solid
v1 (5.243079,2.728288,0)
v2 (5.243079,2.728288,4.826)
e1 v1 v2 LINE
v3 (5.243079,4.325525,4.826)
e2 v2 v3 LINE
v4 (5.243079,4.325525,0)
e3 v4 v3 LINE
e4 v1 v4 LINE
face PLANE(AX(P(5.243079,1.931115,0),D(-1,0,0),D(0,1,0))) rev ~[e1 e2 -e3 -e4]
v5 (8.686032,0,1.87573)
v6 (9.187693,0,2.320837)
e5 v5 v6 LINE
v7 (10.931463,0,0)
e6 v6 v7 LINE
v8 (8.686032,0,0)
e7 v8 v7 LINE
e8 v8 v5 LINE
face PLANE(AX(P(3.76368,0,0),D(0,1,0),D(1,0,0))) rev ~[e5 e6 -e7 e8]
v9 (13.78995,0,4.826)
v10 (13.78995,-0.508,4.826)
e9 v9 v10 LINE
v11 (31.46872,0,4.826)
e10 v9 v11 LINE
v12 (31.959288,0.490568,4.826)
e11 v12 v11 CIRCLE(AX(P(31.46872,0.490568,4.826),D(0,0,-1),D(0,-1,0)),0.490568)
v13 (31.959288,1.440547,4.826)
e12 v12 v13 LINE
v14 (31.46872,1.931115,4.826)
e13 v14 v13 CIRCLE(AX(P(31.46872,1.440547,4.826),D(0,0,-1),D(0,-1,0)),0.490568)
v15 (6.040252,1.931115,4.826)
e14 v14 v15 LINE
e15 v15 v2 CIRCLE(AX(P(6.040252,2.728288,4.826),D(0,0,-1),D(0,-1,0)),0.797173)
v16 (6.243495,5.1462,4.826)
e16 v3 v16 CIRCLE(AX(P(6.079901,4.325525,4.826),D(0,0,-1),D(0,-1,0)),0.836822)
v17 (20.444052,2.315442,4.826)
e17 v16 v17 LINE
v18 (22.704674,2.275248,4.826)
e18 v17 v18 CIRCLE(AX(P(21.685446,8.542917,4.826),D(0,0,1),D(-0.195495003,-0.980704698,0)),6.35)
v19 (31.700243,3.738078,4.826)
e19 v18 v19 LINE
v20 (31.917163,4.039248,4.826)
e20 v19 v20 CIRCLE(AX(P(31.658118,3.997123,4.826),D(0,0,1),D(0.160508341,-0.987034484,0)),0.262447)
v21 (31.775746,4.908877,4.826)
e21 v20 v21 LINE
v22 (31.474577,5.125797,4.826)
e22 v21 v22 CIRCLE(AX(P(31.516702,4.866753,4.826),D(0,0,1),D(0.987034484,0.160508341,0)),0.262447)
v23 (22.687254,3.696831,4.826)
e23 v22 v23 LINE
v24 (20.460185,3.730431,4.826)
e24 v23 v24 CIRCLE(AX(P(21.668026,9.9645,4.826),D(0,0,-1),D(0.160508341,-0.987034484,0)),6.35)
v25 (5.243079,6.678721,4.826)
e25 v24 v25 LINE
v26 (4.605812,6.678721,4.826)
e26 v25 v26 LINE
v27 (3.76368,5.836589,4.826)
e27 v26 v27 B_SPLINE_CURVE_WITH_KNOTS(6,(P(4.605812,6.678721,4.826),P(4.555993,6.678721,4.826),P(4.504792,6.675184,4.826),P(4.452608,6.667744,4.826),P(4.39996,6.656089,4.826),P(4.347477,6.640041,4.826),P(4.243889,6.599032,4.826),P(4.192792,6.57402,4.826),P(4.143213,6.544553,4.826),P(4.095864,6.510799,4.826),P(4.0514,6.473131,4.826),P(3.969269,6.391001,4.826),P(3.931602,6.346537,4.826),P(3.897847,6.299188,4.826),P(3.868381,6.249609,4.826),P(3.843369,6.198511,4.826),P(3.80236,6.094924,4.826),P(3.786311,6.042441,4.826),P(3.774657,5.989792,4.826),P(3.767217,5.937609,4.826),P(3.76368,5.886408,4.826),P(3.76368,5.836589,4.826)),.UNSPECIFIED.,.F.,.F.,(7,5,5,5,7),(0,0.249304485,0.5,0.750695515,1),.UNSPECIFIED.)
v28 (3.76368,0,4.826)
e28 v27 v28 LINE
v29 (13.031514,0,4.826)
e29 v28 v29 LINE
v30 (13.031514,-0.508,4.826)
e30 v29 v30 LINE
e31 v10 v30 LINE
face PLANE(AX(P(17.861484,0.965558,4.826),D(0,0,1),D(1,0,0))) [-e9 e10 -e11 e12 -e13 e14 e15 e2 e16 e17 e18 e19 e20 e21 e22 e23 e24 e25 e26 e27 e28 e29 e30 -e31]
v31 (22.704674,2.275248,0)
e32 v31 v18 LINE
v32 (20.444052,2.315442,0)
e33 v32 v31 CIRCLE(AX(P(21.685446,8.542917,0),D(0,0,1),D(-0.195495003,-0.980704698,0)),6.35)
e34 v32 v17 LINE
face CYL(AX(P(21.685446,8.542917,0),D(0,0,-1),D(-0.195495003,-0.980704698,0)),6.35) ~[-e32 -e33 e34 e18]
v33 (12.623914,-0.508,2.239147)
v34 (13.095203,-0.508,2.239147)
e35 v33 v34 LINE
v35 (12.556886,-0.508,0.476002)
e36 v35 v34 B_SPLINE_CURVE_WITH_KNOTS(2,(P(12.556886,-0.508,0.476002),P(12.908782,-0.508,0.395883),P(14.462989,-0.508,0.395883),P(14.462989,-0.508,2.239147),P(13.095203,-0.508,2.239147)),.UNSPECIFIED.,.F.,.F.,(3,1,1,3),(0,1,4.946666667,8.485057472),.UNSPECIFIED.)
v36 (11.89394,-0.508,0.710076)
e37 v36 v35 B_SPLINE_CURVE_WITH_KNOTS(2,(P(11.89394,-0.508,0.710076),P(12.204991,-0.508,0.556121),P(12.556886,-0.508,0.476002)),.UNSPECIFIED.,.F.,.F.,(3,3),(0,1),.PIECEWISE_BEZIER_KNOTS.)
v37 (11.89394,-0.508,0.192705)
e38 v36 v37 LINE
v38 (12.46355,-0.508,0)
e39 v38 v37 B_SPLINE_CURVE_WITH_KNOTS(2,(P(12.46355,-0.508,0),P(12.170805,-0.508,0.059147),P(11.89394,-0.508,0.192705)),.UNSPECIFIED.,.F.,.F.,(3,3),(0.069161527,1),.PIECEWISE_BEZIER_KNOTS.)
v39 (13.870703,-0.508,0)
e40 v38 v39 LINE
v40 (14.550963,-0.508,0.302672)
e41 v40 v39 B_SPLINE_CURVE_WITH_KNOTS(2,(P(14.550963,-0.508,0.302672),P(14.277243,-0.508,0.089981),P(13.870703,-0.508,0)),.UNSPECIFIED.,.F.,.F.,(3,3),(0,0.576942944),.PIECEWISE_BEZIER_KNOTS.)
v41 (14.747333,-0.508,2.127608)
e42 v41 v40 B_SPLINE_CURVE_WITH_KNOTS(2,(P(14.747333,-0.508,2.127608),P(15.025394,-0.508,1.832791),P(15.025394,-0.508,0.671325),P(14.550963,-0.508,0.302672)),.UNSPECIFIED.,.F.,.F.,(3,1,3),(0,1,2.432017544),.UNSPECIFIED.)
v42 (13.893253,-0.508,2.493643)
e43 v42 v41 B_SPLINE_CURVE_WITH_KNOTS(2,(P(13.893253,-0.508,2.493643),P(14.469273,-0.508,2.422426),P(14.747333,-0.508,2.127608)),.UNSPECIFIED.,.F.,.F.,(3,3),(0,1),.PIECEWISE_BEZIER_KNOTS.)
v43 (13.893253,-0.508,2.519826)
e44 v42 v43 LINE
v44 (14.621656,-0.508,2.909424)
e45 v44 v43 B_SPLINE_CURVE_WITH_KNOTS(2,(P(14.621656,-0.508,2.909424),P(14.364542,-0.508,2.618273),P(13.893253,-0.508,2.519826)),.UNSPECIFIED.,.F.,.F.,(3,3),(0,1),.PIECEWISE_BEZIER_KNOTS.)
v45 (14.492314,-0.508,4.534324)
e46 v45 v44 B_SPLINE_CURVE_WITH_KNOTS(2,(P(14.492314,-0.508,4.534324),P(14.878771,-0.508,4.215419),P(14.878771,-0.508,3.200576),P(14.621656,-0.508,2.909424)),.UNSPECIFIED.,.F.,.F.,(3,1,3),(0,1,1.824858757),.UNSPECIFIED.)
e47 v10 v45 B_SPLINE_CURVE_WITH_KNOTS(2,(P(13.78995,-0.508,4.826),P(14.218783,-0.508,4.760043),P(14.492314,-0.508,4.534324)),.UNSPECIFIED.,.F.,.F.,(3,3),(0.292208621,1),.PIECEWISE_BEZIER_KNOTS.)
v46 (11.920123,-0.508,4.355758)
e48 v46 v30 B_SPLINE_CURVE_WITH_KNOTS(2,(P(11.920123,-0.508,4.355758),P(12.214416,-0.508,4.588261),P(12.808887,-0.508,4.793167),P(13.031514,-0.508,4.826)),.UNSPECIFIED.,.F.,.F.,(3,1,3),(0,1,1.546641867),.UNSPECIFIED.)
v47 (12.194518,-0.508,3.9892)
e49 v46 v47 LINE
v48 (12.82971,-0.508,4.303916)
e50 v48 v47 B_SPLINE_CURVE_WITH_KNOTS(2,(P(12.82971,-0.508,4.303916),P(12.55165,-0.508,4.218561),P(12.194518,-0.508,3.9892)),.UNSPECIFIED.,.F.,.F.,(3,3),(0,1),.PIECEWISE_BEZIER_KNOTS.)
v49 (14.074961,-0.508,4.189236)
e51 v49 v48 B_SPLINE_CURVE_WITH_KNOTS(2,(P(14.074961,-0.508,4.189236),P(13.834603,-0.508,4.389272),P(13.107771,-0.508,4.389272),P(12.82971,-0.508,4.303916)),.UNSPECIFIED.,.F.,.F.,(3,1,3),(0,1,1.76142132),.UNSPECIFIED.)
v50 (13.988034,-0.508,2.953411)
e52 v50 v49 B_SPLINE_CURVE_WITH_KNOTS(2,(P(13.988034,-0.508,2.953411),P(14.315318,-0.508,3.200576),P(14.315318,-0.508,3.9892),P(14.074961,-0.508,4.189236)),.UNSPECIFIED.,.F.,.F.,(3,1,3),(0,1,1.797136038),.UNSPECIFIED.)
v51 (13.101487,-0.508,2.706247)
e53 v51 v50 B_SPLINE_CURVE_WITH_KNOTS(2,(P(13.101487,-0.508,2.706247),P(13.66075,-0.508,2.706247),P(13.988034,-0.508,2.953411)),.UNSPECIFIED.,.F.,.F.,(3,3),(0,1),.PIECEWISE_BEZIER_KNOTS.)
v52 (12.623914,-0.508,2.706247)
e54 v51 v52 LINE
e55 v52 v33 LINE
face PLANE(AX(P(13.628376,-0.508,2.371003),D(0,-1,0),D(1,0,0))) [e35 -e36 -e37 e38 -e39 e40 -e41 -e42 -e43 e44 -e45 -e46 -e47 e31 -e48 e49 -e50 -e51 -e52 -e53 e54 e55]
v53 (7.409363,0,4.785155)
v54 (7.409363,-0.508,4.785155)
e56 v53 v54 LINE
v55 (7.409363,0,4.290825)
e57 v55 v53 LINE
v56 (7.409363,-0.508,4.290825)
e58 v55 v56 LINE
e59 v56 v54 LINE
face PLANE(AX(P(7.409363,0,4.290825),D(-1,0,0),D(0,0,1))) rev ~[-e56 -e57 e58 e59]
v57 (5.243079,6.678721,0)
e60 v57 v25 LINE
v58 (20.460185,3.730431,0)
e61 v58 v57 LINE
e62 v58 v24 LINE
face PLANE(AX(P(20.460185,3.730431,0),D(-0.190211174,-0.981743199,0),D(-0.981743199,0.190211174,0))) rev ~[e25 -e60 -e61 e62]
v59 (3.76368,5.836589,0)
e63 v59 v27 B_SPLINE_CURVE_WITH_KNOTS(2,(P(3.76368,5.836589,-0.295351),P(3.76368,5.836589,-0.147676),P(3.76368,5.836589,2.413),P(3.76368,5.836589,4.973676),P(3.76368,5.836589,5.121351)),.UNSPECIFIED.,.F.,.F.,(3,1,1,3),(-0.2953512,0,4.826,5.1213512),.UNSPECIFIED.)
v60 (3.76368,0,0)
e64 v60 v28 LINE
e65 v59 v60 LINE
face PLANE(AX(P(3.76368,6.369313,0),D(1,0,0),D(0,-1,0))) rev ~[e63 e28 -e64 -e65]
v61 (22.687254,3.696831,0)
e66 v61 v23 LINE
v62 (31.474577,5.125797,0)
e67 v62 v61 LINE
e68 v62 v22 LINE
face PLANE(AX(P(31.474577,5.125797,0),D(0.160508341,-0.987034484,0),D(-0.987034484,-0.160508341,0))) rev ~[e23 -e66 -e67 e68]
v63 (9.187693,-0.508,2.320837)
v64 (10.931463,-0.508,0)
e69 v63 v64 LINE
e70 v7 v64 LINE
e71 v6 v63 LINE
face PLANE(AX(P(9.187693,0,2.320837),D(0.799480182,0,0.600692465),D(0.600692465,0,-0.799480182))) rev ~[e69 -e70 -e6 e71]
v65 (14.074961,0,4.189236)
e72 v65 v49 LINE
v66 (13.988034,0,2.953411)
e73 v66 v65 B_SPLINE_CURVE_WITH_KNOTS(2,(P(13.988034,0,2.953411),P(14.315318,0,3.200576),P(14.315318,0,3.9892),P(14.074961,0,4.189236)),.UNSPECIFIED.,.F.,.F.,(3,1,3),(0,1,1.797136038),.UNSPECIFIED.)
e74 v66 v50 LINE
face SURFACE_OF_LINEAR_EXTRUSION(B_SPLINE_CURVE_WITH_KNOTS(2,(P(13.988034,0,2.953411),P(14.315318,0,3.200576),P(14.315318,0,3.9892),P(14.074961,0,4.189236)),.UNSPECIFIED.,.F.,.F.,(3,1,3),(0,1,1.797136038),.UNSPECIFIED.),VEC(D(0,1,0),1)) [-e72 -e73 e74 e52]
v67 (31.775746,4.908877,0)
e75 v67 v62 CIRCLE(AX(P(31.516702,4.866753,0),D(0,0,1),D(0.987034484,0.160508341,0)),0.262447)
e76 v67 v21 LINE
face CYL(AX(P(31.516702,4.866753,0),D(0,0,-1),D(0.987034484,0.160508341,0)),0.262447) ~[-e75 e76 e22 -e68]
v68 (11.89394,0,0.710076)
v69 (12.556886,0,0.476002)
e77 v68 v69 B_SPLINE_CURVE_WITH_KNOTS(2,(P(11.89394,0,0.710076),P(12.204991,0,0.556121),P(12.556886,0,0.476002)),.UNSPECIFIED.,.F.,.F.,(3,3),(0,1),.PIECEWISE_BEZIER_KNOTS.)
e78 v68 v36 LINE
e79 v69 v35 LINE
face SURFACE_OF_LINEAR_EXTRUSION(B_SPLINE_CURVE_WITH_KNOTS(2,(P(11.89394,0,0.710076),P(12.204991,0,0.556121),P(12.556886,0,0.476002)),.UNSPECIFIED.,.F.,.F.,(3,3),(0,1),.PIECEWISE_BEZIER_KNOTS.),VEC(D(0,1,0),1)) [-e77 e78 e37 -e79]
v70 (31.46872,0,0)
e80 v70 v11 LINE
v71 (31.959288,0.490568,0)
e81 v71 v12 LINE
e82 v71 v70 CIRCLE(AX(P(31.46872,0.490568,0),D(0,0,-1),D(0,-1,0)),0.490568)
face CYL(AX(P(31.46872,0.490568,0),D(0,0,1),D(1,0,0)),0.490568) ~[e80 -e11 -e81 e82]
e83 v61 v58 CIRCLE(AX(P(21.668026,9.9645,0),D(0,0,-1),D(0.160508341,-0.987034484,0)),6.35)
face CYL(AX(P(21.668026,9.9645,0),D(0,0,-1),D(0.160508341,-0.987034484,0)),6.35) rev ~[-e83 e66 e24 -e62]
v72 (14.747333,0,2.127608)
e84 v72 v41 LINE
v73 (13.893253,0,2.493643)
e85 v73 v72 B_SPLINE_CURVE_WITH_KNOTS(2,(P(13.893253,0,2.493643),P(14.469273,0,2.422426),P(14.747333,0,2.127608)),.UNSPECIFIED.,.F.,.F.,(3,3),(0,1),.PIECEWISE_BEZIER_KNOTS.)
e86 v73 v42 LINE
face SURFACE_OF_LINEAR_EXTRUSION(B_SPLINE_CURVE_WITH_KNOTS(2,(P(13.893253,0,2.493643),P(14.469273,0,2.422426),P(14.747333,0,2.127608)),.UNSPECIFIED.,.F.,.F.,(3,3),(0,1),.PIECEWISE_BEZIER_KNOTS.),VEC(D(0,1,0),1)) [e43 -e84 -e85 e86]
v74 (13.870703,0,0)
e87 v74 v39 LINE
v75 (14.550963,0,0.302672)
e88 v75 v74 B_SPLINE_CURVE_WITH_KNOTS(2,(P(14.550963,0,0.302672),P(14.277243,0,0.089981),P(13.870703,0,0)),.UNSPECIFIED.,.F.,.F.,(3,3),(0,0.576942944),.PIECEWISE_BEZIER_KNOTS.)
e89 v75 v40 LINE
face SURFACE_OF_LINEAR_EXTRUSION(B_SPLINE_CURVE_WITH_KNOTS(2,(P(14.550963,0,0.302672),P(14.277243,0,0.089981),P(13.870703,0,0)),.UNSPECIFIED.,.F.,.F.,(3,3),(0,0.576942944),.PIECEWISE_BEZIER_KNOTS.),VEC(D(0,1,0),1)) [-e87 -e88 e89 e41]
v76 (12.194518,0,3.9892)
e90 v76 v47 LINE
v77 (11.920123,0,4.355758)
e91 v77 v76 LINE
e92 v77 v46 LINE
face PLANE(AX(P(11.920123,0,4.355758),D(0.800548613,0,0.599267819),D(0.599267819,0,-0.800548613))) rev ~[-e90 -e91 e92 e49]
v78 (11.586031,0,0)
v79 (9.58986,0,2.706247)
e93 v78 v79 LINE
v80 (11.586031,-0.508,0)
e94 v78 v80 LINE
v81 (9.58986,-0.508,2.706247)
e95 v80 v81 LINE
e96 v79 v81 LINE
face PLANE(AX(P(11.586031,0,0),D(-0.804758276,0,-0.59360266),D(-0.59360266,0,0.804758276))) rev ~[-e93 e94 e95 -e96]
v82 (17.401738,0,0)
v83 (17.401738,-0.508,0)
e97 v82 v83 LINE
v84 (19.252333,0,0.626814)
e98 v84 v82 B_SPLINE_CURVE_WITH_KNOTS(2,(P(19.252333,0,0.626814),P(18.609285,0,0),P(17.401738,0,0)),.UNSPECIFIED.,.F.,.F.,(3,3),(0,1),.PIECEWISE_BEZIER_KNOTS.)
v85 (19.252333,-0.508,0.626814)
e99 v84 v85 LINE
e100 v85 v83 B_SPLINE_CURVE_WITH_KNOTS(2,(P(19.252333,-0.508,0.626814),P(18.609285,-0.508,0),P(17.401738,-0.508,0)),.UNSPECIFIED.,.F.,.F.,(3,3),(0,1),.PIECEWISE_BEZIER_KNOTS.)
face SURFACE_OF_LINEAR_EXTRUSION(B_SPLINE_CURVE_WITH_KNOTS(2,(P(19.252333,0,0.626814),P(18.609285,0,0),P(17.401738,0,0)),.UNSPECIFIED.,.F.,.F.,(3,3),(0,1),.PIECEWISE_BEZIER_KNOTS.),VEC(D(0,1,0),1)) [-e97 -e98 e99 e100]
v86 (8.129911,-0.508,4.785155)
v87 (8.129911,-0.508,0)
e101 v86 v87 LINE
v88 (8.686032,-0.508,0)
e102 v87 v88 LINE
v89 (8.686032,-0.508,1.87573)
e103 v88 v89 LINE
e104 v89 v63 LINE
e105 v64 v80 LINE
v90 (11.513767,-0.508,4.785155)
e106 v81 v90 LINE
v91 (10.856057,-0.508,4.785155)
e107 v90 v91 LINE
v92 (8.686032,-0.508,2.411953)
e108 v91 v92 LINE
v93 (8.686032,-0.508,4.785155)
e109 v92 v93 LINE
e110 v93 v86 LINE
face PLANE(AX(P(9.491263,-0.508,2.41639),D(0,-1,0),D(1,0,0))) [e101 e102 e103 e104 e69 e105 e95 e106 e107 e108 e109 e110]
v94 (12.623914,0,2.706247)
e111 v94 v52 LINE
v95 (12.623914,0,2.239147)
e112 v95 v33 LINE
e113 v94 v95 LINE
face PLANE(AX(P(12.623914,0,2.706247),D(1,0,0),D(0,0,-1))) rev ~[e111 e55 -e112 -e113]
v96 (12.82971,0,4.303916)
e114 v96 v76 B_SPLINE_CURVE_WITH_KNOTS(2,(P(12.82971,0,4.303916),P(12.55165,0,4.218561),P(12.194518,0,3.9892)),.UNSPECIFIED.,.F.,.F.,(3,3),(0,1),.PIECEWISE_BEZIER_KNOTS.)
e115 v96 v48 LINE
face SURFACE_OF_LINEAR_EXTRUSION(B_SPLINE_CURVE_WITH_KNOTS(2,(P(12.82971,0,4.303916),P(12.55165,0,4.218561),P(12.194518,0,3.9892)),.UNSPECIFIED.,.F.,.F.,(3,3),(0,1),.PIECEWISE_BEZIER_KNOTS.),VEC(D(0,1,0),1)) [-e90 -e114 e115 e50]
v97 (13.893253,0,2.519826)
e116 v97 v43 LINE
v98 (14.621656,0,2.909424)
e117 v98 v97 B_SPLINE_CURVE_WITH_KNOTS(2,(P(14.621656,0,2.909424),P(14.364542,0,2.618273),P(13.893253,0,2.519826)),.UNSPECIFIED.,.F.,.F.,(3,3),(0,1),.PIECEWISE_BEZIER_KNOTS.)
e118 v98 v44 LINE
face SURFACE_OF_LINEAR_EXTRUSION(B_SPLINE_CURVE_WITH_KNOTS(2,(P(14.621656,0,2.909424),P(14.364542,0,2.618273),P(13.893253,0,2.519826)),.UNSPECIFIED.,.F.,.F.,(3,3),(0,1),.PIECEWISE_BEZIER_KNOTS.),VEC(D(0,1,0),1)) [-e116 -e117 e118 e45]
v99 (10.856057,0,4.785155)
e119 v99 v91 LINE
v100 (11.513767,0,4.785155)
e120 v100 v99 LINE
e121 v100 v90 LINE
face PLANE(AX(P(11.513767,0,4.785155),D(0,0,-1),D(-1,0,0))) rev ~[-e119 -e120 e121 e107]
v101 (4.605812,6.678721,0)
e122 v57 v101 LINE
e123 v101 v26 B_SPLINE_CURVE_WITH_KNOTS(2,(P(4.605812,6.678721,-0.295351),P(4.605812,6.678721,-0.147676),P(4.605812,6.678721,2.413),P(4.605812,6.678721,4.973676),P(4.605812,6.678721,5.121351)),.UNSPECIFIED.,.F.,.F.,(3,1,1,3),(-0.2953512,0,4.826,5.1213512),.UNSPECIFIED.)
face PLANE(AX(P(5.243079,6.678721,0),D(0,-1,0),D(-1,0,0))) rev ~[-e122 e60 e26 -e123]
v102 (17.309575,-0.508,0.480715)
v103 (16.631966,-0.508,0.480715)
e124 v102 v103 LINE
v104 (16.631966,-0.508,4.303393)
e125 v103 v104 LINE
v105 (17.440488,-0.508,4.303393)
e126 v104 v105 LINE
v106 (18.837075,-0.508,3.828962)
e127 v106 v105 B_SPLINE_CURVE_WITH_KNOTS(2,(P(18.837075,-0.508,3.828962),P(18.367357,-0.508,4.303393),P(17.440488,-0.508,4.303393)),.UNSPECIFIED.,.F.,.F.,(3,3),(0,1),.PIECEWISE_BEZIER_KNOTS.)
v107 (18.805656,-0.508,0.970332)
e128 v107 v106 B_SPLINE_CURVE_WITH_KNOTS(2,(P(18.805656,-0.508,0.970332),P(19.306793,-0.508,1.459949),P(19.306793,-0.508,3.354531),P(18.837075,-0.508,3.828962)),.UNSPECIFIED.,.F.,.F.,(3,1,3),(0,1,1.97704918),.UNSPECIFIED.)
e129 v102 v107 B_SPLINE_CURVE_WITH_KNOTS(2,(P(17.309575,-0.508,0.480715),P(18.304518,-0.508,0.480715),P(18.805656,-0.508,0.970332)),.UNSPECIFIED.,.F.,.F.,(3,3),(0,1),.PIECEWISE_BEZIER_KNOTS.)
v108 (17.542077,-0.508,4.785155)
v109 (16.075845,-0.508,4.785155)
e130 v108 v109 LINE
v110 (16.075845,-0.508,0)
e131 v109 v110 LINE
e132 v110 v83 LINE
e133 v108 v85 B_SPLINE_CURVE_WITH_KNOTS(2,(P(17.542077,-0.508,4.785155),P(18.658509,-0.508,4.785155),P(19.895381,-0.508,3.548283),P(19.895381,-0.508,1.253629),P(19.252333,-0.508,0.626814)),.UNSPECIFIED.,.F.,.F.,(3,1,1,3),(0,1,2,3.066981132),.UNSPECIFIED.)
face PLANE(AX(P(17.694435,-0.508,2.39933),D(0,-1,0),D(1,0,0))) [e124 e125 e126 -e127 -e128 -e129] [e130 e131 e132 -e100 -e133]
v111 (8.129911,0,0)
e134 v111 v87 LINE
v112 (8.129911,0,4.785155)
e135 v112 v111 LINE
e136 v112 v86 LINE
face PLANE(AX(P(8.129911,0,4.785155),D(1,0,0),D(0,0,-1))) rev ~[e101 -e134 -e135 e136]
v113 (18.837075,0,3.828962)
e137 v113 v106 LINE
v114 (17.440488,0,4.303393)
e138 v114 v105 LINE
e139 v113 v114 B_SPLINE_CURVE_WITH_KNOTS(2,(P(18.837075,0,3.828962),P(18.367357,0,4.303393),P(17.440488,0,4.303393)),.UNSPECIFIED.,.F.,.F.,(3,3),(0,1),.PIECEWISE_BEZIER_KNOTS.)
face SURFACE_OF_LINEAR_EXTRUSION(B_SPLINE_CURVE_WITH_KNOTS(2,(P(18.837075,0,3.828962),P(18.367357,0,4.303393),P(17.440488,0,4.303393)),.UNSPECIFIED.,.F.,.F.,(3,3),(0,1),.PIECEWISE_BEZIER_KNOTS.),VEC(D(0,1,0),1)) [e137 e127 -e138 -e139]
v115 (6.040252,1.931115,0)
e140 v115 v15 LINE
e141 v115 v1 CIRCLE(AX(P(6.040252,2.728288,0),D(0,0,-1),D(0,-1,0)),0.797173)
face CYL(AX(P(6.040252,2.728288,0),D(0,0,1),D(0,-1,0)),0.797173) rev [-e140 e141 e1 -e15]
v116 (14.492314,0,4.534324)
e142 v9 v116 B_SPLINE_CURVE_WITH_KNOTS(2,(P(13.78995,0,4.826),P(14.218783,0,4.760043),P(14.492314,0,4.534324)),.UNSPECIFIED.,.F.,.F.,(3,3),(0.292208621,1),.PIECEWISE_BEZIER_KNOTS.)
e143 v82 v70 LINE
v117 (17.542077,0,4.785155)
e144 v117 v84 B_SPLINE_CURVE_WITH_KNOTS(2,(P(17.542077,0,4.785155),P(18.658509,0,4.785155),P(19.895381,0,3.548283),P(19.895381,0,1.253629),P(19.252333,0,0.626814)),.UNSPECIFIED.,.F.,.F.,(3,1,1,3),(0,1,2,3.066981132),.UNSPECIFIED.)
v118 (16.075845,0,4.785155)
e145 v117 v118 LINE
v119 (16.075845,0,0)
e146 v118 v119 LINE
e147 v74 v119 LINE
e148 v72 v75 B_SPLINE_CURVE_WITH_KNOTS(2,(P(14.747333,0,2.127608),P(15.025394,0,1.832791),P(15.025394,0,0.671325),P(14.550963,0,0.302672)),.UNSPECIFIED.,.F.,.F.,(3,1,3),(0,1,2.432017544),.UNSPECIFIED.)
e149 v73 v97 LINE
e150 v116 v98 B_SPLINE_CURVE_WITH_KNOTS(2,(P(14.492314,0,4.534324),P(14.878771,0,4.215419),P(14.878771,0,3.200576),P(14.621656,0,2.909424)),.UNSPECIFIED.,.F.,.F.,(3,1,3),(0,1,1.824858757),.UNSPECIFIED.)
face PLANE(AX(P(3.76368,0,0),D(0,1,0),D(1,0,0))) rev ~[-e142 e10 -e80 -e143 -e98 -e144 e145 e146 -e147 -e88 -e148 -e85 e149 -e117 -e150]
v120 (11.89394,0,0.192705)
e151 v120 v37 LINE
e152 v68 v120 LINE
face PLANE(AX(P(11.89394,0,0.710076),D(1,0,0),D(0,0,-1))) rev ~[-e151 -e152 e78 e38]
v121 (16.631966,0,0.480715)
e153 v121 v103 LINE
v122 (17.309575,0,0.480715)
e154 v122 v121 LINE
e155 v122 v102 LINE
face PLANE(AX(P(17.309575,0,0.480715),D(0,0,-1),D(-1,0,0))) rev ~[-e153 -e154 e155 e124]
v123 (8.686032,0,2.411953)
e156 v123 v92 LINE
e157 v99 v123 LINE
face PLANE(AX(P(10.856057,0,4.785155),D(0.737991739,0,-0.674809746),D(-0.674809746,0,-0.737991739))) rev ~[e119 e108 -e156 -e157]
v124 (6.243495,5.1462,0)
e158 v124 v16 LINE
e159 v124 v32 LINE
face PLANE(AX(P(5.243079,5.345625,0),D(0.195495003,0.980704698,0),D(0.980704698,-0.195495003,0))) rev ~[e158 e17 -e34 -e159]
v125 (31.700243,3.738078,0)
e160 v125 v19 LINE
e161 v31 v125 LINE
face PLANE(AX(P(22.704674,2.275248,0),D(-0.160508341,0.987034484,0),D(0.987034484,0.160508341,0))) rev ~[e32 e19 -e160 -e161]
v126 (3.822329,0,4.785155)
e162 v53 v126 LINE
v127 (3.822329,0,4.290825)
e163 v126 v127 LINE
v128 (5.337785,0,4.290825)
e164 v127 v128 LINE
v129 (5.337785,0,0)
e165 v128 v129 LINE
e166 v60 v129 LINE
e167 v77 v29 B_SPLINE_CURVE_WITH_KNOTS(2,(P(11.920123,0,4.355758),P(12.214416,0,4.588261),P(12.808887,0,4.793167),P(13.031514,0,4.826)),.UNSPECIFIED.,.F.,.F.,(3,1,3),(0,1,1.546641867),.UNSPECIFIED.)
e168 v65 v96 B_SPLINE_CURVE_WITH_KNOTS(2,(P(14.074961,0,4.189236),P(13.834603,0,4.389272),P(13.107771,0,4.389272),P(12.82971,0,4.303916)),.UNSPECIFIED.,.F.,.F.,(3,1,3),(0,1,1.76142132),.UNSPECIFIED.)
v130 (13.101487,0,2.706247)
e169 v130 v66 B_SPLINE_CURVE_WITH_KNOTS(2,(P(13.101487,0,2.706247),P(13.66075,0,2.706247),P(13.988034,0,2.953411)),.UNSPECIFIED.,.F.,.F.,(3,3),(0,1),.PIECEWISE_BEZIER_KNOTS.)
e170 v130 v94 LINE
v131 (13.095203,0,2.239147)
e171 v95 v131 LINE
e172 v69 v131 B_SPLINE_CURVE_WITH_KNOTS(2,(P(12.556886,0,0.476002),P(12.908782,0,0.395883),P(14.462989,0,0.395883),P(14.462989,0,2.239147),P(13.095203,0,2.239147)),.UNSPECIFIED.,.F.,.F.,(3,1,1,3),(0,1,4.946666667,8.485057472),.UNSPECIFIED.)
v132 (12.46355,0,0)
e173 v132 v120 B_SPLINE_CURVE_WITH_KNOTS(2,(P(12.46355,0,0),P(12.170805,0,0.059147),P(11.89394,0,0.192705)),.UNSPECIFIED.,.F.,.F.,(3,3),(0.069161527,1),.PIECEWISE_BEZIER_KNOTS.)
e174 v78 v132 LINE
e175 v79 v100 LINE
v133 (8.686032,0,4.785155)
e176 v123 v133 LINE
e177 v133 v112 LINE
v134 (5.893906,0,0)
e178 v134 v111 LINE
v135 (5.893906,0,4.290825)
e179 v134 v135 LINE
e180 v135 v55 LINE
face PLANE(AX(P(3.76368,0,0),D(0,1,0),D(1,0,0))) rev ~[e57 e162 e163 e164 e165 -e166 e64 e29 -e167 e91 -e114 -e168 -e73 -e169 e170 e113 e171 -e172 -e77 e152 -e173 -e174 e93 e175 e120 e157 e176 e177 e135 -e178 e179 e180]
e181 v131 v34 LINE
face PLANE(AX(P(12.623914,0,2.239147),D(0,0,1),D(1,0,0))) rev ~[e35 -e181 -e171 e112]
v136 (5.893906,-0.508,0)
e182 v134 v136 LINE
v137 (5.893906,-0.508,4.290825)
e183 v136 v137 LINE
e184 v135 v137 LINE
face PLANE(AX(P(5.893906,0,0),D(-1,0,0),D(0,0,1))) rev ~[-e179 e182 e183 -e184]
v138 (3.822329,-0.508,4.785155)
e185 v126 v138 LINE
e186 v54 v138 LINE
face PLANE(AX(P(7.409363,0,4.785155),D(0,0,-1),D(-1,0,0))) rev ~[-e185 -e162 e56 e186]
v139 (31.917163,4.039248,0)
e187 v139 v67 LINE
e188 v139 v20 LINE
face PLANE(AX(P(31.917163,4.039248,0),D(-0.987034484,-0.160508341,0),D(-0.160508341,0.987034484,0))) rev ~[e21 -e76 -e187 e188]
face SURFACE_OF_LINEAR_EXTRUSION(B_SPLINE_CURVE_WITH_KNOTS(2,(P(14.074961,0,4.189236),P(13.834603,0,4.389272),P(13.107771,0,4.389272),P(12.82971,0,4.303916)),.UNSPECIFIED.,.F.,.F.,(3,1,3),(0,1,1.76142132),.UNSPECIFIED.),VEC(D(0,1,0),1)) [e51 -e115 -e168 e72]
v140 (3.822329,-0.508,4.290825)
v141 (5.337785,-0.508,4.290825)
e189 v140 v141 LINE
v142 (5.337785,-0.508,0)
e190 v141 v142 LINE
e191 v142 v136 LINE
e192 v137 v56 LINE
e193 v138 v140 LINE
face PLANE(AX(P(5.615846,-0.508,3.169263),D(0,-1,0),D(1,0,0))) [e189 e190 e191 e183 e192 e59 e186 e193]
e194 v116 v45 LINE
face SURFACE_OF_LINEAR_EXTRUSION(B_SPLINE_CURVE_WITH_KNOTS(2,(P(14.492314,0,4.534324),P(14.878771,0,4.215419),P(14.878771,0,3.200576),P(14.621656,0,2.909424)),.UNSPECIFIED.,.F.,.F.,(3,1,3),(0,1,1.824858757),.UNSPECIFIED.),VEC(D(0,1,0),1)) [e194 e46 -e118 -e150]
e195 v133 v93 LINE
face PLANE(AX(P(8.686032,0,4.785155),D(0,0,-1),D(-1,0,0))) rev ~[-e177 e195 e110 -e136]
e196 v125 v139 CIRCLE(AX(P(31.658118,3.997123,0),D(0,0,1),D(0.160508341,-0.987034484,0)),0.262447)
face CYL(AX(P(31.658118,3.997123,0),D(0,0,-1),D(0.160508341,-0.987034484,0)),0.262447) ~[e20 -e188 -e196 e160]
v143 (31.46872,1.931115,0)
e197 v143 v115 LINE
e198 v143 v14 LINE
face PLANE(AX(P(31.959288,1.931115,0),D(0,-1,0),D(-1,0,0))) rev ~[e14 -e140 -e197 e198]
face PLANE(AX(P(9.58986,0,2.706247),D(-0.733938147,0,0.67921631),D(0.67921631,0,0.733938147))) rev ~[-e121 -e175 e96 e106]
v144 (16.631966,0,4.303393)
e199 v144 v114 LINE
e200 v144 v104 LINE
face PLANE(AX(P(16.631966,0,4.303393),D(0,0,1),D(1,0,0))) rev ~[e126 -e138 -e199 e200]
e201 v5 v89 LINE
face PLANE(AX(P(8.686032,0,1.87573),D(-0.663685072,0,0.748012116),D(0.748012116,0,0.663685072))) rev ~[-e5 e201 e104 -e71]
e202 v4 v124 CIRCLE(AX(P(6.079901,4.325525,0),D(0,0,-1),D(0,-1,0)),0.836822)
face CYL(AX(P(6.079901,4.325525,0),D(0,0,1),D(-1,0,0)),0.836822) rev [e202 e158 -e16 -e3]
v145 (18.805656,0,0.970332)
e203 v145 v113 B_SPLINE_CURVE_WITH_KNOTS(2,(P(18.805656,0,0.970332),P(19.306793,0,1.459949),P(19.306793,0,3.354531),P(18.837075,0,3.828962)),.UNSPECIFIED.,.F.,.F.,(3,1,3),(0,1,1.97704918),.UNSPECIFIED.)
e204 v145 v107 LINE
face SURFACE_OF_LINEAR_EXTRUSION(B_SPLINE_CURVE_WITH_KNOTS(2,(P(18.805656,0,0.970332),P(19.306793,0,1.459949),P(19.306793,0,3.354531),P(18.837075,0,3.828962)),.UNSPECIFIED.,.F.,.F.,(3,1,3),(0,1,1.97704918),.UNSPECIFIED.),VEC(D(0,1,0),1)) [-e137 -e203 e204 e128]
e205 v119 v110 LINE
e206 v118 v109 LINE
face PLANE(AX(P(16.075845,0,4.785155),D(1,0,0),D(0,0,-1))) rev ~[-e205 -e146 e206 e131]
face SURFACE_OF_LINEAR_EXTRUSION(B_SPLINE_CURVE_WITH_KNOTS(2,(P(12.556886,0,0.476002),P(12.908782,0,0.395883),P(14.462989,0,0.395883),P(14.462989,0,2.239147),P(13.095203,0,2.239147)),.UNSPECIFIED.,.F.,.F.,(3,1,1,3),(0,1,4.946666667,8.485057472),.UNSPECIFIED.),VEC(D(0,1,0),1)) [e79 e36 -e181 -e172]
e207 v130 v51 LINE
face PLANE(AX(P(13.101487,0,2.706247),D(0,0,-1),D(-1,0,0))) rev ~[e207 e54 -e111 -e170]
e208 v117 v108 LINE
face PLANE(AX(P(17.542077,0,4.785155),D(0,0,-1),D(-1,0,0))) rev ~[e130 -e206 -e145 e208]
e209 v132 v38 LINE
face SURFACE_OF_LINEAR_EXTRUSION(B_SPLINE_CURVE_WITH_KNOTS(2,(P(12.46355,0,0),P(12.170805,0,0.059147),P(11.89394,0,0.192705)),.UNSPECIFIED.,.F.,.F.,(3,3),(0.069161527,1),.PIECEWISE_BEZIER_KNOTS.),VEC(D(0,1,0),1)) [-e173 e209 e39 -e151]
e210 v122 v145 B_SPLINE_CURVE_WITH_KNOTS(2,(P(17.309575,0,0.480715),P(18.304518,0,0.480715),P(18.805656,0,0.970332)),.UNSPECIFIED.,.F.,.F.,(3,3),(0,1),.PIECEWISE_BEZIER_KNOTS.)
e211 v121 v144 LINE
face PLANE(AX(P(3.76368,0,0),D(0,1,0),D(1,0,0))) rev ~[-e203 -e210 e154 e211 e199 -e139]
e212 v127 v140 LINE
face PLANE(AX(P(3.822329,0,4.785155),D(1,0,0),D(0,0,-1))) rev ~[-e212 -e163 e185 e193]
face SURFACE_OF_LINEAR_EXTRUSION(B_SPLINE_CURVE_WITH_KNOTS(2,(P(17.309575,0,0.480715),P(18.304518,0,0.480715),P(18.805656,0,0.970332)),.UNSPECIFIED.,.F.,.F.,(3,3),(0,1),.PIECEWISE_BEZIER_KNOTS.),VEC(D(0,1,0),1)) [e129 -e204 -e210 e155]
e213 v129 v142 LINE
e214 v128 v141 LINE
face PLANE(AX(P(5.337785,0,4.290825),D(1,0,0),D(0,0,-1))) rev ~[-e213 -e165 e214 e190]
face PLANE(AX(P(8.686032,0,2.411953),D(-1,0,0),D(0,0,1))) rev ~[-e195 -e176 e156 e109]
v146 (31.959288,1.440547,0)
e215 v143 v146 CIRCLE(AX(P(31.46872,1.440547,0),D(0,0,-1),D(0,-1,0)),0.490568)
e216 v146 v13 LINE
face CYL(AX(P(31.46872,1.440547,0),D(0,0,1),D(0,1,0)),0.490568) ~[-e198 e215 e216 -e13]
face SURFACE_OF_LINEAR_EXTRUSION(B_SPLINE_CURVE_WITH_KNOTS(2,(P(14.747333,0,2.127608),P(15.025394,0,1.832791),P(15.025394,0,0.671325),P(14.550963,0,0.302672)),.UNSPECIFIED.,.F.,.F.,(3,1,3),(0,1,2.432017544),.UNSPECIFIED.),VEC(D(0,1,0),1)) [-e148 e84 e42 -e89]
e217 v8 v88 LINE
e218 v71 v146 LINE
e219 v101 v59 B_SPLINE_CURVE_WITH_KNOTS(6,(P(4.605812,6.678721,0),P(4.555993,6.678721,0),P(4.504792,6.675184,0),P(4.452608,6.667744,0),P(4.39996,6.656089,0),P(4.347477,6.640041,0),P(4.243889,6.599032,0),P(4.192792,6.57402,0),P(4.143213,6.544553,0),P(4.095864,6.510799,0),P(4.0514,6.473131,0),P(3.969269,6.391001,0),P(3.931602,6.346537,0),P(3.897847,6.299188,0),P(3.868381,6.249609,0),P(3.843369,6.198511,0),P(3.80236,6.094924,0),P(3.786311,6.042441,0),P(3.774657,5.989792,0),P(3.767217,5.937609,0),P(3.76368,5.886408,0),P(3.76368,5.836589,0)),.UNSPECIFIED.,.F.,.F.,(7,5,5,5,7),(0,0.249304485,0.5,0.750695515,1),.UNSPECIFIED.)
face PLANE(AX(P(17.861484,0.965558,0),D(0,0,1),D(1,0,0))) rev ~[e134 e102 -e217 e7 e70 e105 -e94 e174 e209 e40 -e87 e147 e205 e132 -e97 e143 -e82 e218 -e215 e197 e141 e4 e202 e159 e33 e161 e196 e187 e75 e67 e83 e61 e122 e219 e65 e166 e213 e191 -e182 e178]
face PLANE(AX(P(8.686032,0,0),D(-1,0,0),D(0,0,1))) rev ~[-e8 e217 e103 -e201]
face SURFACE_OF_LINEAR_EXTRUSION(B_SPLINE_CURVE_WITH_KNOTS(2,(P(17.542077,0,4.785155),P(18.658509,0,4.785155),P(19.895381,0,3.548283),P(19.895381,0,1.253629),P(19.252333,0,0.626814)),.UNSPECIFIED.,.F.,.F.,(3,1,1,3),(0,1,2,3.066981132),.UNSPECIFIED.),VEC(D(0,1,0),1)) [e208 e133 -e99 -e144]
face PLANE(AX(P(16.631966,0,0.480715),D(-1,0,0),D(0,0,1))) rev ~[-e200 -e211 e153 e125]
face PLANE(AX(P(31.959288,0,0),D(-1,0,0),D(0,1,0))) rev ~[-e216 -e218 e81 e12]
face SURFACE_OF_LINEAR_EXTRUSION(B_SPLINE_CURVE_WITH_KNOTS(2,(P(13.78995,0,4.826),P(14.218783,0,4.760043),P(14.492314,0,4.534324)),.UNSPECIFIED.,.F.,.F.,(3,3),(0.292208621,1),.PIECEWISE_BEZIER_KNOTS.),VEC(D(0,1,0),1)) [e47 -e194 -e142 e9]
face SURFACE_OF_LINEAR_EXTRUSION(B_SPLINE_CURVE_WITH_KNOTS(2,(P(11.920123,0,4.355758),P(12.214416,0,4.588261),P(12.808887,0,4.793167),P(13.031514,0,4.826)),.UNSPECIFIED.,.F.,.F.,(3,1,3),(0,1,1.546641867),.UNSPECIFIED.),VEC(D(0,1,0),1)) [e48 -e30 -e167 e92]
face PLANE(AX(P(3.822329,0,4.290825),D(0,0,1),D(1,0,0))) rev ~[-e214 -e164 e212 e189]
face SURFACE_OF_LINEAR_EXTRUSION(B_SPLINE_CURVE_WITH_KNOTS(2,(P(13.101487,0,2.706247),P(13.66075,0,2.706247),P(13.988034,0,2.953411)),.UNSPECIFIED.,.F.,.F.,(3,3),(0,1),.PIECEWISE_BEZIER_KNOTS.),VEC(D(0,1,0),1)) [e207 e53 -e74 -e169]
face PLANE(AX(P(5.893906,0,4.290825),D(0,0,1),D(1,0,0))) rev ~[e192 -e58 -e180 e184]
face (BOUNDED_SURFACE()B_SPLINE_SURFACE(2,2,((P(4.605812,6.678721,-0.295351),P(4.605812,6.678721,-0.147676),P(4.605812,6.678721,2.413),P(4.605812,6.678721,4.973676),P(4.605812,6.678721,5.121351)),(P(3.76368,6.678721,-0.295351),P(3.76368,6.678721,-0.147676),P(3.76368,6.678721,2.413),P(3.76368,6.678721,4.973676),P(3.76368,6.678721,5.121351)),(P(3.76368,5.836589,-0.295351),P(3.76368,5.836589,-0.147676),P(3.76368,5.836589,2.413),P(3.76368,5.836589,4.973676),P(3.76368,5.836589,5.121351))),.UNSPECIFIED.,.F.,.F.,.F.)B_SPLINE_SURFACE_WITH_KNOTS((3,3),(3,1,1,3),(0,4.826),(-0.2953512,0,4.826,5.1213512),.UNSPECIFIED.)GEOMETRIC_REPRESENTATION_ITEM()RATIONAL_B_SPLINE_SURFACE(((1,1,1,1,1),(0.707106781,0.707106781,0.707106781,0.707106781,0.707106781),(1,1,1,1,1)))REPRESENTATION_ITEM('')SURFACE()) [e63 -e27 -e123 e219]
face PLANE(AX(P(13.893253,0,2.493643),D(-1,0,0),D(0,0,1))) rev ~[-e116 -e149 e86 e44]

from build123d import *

# Parameters (mm, degrees)
F1_DEPTH = 4.826
F2_R     = 0.8421318362
F3_R     = 0.8368220374
F4_R     = 0.4905681959
F5_R     = 0.7971733183
F7_DEPTH = 0.508
F8_R     = 0.4905681959


with BuildPart() as f1:
    # F0 (on Top) → F1 (new body)
    with BuildSketch(Plane.XY):
        Polygon((3.7636798806, 1.93111517), (3.7636798806, 0), (31.9592878222, 0), (31.9592878222, 1.93111517), (5.2430788055, 1.93111517), align=None)
        with BuildLine():
            Line((3.7636798806, 6.3693127595), (3.7636798806, 1.93111517))
            Line((3.7636798806, 1.93111517), (5.2430788055, 1.93111517))
            Line((5.2430788055, 1.93111517), (5.2430788055, 5.3456245812))
            Line((5.2430788055, 5.3456245812), (20.4440524117, 2.3154419081))
            ThreePointArc((20.4440524117, 2.3154419081), (21.572559685, 2.1939202222), (22.7046736444, 2.2752477642))
            Line((22.7046736444, 2.2752477642), (31.7002432299, 3.7380780613))
            ThreePointArc((31.7002432299, 3.7380780613), (31.8710772939, 3.8437373318), (31.9171628323, 4.0392476436))
            Line((31.9171628323, 4.0392476436), (31.7757464521, 4.9088774915))
            ThreePointArc((31.7757464521, 4.9088774915), (31.6700871816, 5.0797115555), (31.4745768698, 5.1257970939))
            Line((31.4745768698, 5.1257970939), (22.6872542576, 3.696831243))
            ThreePointArc((22.6872542576, 3.696831243), (21.5722351198, 3.6152227731), (20.4601853424, 3.7304309004))
            Line((20.4601853424, 3.7304309004), (5.2430788055, 6.6787209362))
            Line((5.2430788055, 6.6787209362), (3.7601878867, 6.6787209362))
            Line((3.7601878867, 6.6787209362), (3.7636798806, 6.3693127595))
        make_face()
    extrude(amount=F1_DEPTH)

    # F2
    f2_edges = [f1.edges().sort_by_distance(p)[0] for p in [
        (3.760188, 6.678721, 2.413),
    ]]
    fillet(f2_edges, radius=F2_R)

    # F3
    f3_edges = [f1.edges().sort_by_distance(p)[0] for p in [
        (5.243079, 5.345625, 2.413),
    ]]
    fillet(f3_edges, radius=F3_R)

    # F4
    f4_edges = [f1.edges().sort_by_distance(p)[0] for p in [
        (31.959288, 1.931115, 2.413),
    ]]
    fillet(f4_edges, radius=F4_R)

    # F5
    f5_edges = [f1.edges().sort_by_distance(p)[0] for p in [
        (5.243079, 1.931115, 2.413),
    ]]
    fillet(f5_edges, radius=F5_R)

    # F6 (on face) → F7 (join)
    with BuildSketch(Plane.XZ):
        Polygon((5.3377853494, 0), (5.8939064431, 0), (5.8939064431, 4.2908250868), (7.4093626063, 4.2908250868), (7.4093626063, 4.7851549479), (3.8223291862, 4.7851549479), (3.8223291862, 4.2908250868), (5.3377853494, 4.2908250868), align=None)
        Polygon((8.1299112175, 4.7851549479), (8.1299112175, 0), (8.6860323112, 0), (8.6860323112, 1.8757304688), (9.1876933355, 2.3208368056), (10.9314628668, 0), (11.5860310091, 0), (9.5898600022, 2.7062465278), (11.5137666862, 4.7851549479), (10.8560566168, 4.7851549479), (8.6860323112, 2.411952691), (8.6860323112, 4.7851549479), align=None)
        with BuildLine():
            Line((13.789949635, 4.826), (13.0315141767, 4.826))
            add(Edge.make_bspline(
                [(12.598778839, 4.7207454427), (12.8088874261, 4.7931670674), (13.0315141767, 4.826)],
                knots=[0, 0, 0, 0.5466418669, 0.5466418669, 0.5466418669], degree=2))
            add(Edge.make_bspline(
                [(11.920122589, 4.3557582465), (12.2144164258, 4.5882608507), (12.598778839, 4.7207454427)],
                knots=[0, 0, 0, 1, 1, 1], degree=2))
            Line((11.920122589, 4.3557582465), (12.1945175543, 3.9892000868))
            add(Edge.make_bspline(
                [(12.8297104796, 4.3039164497), (12.5516499327, 4.2185607639), (12.1945175543, 3.9892000868)],
                knots=[0, 0, 0, 1, 1, 1], degree=2))
            add(Edge.make_bspline(
                [(13.4219637348, 4.3892721354), (13.1077710265, 4.3892721354), (12.8297104796, 4.3039164497)],
                knots=[0, 0, 0, 1, 1, 1], degree=2))
            add(Edge.make_bspline(
                [(14.0749609136, 4.1892361111), (13.8346034918, 4.3892721354), (13.4219637348, 4.3892721354)],
                knots=[0, 0, 0, 1, 1, 1], degree=2))
            add(Edge.make_bspline(
                [(14.3153183355, 3.6393988715), (14.3153183355, 3.9892000868), (14.0749609136, 4.1892361111)],
                knots=[0, 0, 0, 1, 1, 1], degree=2))
            add(Edge.make_bspline(
                [(13.9880342643, 2.9534114583), (14.3153183355, 3.2005763889), (14.3153183355, 3.6393988715)],
                knots=[0, 0, 0, 1, 1, 1], degree=2))
            add(Edge.make_bspline(
                [(13.1014871723, 2.7062465278), (13.6607501931, 2.7062465278), (13.9880342643, 2.9534114583)],
                knots=[0, 0, 0, 1, 1, 1], degree=2))
            Line((13.1014871723, 2.7062465278), (12.6239142556, 2.7062465278))
            Line((12.6239142556, 2.7062465278), (12.6239142556, 2.2391467014))
            Line((12.6239142556, 2.2391467014), (13.0952033181, 2.2391467014))
            add(Edge.make_bspline(
                [(14.4629889084, 1.3677855903), (14.4629889084, 2.2391467014), (13.0952033181, 2.2391467014)],
                knots=[0, 0, 0, 1, 1, 1], degree=2))
            add(Edge.make_bspline(
                [(13.2229750195, 0.3958828125), (14.4629889084, 0.3958828125), (14.4629889084, 1.3677855903)],
                knots=[0, 0, 0, 1, 1, 1], degree=2))
            add(Edge.make_bspline(
                [(12.5568864779, 0.4760019531), (12.9087823112, 0.3958828125), (13.2229750195, 0.3958828125)],
                knots=[0, 0, 0, 1, 1, 1], degree=2))
            add(Edge.make_bspline(
                [(11.8939398633, 0.7100755208), (12.2049906445, 0.5561210938), (12.5568864779, 0.4760019531)],
                knots=[0, 0, 0, 1, 1, 1], degree=2))
            Line((11.8939398633, 0.7100755208), (11.8939398633, 0.1927048611))
            add(Edge.make_bspline(
                [(12.4635495715, 0), (12.1708045154, 0.0591469127), (11.8939398633, 0.1927048611)],
                knots=[0.0691615274, 0.0691615274, 0.0691615274, 1, 1, 1], degree=2))
            Line((12.4635495715, 0), (13.8707030072, 0))
            add(Edge.make_bspline(
                [(14.5509628668, 0.302672309), (14.277243255, 0.0899806901), (13.8707030072, 0)],
                knots=[0, 0, 0, 0.5769429439, 0.5769429439, 0.5769429439], degree=2))
            add(Edge.make_bspline(
                [(15.0253938563, 1.3552178819), (15.0253938563, 0.6713250868), (14.5509628668, 0.302672309)],
                knots=[0, 0, 0, 1, 1, 1], degree=2))
            add(Edge.make_bspline(
                [(14.7473333095, 2.1276082899), (15.0253938563, 1.8327907986), (15.0253938563, 1.3552178819)],
                knots=[0, 0, 0, 1, 1, 1], degree=2))
            add(Edge.make_bspline(
                [(13.8932527973, 2.4936427951), (14.4692727626, 2.4224257813), (14.7473333095, 2.1276082899)],
                knots=[0, 0, 0, 1, 1, 1], degree=2))
            Line((13.8932527973, 2.4936427951), (13.8932527973, 2.5198255208))
            add(Edge.make_bspline(
                [(14.6216562261, 2.9094244792), (14.3645418598, 2.6182725694), (13.8932527973, 2.5198255208)],
                knots=[0, 0, 0, 1, 1, 1], degree=2))
            add(Edge.make_bspline(
                [(14.8787705925, 3.6592977431), (14.8787705925, 3.2005763889), (14.6216562261, 2.9094244792)],
                knots=[0, 0, 0, 1, 1, 1], degree=2))
            add(Edge.make_bspline(
                [(14.4923135612, 4.5343244358), (14.8787705925, 4.2154188368), (14.8787705925, 3.6592977431)],
                knots=[0, 0, 0, 1, 1, 1], degree=2))
            add(Edge.make_bspline(
                [(13.789949635, 4.826), (14.2187826063, 4.7600430693), (14.4923135612, 4.5343244358)],
                knots=[0.2922086215, 0.2922086215, 0.2922086215, 1, 1, 1], degree=2))
        make_face()
        with BuildLine():
            Line((16.0758448112, 4.7851549479), (16.0758448112, 0))
            Line((16.0758448112, 0), (17.4017380404, 0))
            add(Edge.make_bspline(
                [(19.2523330925, 0.6268144531), (18.6092853494, 0), (17.4017380404, 0)],
                knots=[0, 0, 0, 1, 1, 1], degree=2))
            add(Edge.make_bspline(
                [(19.8953808355, 2.4381354167), (19.8953808355, 1.2536289063), (19.2523330925, 0.6268144531)],
                knots=[0, 0, 0, 1, 1, 1], degree=2))
            add(Edge.make_bspline(
                [(19.2769448546, 4.166718967), (19.8953808355, 3.5482829861), (19.8953808355, 2.4381354167)],
                knots=[0, 0, 0, 1, 1, 1], degree=2))
            add(Edge.make_bspline(
                [(17.5420774501, 4.7851549479), (18.6585088737, 4.7851549479), (19.2769448546, 4.166718967)],
                knots=[0, 0, 0, 1, 1, 1], degree=2))
            Line((17.5420774501, 4.7851549479), (16.0758448112, 4.7851549479))
        make_face()
        with BuildLine():
            add(Edge.make_bspline(
                [(19.3067931619, 2.4182365451), (19.3067931619, 3.354530816), (18.8370750629, 3.8289618056)],
                knots=[0, 0, 0, 1, 1, 1], degree=2))
            add(Edge.make_bspline(
                [(18.8056557921, 0.9703318142), (19.3067931619, 1.4599487847), (19.3067931619, 2.4182365451)],
                knots=[0, 0, 0, 1, 1, 1], degree=2))
            add(Edge.make_bspline(
                [(17.3095748459, 0.4807148438), (18.3045184223, 0.4807148438), (18.8056557921, 0.9703318142)],
                knots=[0, 0, 0, 1, 1, 1], degree=2))
            Line((17.3095748459, 0.4807148438), (16.631965905, 0.4807148438))
            Line((16.631965905, 0.4807148437), (16.631965905, 4.3033927951))
            Line((16.631965905, 4.3033927951), (17.4404884744, 4.3033927951))
            add(Edge.make_bspline(
                [(18.8370750629, 3.8289618056), (18.367356964, 4.3033927951), (17.4404884744, 4.3033927951)],
                knots=[0, 0, 0, 1, 1, 1], degree=2))
        make_face(mode=Mode.SUBTRACT)
    extrude(amount=F7_DEPTH)

    # F8
    f8_edges = [f1.edges().sort_by_distance(p)[0] for p in [
        (31.959288, 0, 2.413),
    ]]
    fillet(f8_edges, radius=F8_R)


solid = f1.part
